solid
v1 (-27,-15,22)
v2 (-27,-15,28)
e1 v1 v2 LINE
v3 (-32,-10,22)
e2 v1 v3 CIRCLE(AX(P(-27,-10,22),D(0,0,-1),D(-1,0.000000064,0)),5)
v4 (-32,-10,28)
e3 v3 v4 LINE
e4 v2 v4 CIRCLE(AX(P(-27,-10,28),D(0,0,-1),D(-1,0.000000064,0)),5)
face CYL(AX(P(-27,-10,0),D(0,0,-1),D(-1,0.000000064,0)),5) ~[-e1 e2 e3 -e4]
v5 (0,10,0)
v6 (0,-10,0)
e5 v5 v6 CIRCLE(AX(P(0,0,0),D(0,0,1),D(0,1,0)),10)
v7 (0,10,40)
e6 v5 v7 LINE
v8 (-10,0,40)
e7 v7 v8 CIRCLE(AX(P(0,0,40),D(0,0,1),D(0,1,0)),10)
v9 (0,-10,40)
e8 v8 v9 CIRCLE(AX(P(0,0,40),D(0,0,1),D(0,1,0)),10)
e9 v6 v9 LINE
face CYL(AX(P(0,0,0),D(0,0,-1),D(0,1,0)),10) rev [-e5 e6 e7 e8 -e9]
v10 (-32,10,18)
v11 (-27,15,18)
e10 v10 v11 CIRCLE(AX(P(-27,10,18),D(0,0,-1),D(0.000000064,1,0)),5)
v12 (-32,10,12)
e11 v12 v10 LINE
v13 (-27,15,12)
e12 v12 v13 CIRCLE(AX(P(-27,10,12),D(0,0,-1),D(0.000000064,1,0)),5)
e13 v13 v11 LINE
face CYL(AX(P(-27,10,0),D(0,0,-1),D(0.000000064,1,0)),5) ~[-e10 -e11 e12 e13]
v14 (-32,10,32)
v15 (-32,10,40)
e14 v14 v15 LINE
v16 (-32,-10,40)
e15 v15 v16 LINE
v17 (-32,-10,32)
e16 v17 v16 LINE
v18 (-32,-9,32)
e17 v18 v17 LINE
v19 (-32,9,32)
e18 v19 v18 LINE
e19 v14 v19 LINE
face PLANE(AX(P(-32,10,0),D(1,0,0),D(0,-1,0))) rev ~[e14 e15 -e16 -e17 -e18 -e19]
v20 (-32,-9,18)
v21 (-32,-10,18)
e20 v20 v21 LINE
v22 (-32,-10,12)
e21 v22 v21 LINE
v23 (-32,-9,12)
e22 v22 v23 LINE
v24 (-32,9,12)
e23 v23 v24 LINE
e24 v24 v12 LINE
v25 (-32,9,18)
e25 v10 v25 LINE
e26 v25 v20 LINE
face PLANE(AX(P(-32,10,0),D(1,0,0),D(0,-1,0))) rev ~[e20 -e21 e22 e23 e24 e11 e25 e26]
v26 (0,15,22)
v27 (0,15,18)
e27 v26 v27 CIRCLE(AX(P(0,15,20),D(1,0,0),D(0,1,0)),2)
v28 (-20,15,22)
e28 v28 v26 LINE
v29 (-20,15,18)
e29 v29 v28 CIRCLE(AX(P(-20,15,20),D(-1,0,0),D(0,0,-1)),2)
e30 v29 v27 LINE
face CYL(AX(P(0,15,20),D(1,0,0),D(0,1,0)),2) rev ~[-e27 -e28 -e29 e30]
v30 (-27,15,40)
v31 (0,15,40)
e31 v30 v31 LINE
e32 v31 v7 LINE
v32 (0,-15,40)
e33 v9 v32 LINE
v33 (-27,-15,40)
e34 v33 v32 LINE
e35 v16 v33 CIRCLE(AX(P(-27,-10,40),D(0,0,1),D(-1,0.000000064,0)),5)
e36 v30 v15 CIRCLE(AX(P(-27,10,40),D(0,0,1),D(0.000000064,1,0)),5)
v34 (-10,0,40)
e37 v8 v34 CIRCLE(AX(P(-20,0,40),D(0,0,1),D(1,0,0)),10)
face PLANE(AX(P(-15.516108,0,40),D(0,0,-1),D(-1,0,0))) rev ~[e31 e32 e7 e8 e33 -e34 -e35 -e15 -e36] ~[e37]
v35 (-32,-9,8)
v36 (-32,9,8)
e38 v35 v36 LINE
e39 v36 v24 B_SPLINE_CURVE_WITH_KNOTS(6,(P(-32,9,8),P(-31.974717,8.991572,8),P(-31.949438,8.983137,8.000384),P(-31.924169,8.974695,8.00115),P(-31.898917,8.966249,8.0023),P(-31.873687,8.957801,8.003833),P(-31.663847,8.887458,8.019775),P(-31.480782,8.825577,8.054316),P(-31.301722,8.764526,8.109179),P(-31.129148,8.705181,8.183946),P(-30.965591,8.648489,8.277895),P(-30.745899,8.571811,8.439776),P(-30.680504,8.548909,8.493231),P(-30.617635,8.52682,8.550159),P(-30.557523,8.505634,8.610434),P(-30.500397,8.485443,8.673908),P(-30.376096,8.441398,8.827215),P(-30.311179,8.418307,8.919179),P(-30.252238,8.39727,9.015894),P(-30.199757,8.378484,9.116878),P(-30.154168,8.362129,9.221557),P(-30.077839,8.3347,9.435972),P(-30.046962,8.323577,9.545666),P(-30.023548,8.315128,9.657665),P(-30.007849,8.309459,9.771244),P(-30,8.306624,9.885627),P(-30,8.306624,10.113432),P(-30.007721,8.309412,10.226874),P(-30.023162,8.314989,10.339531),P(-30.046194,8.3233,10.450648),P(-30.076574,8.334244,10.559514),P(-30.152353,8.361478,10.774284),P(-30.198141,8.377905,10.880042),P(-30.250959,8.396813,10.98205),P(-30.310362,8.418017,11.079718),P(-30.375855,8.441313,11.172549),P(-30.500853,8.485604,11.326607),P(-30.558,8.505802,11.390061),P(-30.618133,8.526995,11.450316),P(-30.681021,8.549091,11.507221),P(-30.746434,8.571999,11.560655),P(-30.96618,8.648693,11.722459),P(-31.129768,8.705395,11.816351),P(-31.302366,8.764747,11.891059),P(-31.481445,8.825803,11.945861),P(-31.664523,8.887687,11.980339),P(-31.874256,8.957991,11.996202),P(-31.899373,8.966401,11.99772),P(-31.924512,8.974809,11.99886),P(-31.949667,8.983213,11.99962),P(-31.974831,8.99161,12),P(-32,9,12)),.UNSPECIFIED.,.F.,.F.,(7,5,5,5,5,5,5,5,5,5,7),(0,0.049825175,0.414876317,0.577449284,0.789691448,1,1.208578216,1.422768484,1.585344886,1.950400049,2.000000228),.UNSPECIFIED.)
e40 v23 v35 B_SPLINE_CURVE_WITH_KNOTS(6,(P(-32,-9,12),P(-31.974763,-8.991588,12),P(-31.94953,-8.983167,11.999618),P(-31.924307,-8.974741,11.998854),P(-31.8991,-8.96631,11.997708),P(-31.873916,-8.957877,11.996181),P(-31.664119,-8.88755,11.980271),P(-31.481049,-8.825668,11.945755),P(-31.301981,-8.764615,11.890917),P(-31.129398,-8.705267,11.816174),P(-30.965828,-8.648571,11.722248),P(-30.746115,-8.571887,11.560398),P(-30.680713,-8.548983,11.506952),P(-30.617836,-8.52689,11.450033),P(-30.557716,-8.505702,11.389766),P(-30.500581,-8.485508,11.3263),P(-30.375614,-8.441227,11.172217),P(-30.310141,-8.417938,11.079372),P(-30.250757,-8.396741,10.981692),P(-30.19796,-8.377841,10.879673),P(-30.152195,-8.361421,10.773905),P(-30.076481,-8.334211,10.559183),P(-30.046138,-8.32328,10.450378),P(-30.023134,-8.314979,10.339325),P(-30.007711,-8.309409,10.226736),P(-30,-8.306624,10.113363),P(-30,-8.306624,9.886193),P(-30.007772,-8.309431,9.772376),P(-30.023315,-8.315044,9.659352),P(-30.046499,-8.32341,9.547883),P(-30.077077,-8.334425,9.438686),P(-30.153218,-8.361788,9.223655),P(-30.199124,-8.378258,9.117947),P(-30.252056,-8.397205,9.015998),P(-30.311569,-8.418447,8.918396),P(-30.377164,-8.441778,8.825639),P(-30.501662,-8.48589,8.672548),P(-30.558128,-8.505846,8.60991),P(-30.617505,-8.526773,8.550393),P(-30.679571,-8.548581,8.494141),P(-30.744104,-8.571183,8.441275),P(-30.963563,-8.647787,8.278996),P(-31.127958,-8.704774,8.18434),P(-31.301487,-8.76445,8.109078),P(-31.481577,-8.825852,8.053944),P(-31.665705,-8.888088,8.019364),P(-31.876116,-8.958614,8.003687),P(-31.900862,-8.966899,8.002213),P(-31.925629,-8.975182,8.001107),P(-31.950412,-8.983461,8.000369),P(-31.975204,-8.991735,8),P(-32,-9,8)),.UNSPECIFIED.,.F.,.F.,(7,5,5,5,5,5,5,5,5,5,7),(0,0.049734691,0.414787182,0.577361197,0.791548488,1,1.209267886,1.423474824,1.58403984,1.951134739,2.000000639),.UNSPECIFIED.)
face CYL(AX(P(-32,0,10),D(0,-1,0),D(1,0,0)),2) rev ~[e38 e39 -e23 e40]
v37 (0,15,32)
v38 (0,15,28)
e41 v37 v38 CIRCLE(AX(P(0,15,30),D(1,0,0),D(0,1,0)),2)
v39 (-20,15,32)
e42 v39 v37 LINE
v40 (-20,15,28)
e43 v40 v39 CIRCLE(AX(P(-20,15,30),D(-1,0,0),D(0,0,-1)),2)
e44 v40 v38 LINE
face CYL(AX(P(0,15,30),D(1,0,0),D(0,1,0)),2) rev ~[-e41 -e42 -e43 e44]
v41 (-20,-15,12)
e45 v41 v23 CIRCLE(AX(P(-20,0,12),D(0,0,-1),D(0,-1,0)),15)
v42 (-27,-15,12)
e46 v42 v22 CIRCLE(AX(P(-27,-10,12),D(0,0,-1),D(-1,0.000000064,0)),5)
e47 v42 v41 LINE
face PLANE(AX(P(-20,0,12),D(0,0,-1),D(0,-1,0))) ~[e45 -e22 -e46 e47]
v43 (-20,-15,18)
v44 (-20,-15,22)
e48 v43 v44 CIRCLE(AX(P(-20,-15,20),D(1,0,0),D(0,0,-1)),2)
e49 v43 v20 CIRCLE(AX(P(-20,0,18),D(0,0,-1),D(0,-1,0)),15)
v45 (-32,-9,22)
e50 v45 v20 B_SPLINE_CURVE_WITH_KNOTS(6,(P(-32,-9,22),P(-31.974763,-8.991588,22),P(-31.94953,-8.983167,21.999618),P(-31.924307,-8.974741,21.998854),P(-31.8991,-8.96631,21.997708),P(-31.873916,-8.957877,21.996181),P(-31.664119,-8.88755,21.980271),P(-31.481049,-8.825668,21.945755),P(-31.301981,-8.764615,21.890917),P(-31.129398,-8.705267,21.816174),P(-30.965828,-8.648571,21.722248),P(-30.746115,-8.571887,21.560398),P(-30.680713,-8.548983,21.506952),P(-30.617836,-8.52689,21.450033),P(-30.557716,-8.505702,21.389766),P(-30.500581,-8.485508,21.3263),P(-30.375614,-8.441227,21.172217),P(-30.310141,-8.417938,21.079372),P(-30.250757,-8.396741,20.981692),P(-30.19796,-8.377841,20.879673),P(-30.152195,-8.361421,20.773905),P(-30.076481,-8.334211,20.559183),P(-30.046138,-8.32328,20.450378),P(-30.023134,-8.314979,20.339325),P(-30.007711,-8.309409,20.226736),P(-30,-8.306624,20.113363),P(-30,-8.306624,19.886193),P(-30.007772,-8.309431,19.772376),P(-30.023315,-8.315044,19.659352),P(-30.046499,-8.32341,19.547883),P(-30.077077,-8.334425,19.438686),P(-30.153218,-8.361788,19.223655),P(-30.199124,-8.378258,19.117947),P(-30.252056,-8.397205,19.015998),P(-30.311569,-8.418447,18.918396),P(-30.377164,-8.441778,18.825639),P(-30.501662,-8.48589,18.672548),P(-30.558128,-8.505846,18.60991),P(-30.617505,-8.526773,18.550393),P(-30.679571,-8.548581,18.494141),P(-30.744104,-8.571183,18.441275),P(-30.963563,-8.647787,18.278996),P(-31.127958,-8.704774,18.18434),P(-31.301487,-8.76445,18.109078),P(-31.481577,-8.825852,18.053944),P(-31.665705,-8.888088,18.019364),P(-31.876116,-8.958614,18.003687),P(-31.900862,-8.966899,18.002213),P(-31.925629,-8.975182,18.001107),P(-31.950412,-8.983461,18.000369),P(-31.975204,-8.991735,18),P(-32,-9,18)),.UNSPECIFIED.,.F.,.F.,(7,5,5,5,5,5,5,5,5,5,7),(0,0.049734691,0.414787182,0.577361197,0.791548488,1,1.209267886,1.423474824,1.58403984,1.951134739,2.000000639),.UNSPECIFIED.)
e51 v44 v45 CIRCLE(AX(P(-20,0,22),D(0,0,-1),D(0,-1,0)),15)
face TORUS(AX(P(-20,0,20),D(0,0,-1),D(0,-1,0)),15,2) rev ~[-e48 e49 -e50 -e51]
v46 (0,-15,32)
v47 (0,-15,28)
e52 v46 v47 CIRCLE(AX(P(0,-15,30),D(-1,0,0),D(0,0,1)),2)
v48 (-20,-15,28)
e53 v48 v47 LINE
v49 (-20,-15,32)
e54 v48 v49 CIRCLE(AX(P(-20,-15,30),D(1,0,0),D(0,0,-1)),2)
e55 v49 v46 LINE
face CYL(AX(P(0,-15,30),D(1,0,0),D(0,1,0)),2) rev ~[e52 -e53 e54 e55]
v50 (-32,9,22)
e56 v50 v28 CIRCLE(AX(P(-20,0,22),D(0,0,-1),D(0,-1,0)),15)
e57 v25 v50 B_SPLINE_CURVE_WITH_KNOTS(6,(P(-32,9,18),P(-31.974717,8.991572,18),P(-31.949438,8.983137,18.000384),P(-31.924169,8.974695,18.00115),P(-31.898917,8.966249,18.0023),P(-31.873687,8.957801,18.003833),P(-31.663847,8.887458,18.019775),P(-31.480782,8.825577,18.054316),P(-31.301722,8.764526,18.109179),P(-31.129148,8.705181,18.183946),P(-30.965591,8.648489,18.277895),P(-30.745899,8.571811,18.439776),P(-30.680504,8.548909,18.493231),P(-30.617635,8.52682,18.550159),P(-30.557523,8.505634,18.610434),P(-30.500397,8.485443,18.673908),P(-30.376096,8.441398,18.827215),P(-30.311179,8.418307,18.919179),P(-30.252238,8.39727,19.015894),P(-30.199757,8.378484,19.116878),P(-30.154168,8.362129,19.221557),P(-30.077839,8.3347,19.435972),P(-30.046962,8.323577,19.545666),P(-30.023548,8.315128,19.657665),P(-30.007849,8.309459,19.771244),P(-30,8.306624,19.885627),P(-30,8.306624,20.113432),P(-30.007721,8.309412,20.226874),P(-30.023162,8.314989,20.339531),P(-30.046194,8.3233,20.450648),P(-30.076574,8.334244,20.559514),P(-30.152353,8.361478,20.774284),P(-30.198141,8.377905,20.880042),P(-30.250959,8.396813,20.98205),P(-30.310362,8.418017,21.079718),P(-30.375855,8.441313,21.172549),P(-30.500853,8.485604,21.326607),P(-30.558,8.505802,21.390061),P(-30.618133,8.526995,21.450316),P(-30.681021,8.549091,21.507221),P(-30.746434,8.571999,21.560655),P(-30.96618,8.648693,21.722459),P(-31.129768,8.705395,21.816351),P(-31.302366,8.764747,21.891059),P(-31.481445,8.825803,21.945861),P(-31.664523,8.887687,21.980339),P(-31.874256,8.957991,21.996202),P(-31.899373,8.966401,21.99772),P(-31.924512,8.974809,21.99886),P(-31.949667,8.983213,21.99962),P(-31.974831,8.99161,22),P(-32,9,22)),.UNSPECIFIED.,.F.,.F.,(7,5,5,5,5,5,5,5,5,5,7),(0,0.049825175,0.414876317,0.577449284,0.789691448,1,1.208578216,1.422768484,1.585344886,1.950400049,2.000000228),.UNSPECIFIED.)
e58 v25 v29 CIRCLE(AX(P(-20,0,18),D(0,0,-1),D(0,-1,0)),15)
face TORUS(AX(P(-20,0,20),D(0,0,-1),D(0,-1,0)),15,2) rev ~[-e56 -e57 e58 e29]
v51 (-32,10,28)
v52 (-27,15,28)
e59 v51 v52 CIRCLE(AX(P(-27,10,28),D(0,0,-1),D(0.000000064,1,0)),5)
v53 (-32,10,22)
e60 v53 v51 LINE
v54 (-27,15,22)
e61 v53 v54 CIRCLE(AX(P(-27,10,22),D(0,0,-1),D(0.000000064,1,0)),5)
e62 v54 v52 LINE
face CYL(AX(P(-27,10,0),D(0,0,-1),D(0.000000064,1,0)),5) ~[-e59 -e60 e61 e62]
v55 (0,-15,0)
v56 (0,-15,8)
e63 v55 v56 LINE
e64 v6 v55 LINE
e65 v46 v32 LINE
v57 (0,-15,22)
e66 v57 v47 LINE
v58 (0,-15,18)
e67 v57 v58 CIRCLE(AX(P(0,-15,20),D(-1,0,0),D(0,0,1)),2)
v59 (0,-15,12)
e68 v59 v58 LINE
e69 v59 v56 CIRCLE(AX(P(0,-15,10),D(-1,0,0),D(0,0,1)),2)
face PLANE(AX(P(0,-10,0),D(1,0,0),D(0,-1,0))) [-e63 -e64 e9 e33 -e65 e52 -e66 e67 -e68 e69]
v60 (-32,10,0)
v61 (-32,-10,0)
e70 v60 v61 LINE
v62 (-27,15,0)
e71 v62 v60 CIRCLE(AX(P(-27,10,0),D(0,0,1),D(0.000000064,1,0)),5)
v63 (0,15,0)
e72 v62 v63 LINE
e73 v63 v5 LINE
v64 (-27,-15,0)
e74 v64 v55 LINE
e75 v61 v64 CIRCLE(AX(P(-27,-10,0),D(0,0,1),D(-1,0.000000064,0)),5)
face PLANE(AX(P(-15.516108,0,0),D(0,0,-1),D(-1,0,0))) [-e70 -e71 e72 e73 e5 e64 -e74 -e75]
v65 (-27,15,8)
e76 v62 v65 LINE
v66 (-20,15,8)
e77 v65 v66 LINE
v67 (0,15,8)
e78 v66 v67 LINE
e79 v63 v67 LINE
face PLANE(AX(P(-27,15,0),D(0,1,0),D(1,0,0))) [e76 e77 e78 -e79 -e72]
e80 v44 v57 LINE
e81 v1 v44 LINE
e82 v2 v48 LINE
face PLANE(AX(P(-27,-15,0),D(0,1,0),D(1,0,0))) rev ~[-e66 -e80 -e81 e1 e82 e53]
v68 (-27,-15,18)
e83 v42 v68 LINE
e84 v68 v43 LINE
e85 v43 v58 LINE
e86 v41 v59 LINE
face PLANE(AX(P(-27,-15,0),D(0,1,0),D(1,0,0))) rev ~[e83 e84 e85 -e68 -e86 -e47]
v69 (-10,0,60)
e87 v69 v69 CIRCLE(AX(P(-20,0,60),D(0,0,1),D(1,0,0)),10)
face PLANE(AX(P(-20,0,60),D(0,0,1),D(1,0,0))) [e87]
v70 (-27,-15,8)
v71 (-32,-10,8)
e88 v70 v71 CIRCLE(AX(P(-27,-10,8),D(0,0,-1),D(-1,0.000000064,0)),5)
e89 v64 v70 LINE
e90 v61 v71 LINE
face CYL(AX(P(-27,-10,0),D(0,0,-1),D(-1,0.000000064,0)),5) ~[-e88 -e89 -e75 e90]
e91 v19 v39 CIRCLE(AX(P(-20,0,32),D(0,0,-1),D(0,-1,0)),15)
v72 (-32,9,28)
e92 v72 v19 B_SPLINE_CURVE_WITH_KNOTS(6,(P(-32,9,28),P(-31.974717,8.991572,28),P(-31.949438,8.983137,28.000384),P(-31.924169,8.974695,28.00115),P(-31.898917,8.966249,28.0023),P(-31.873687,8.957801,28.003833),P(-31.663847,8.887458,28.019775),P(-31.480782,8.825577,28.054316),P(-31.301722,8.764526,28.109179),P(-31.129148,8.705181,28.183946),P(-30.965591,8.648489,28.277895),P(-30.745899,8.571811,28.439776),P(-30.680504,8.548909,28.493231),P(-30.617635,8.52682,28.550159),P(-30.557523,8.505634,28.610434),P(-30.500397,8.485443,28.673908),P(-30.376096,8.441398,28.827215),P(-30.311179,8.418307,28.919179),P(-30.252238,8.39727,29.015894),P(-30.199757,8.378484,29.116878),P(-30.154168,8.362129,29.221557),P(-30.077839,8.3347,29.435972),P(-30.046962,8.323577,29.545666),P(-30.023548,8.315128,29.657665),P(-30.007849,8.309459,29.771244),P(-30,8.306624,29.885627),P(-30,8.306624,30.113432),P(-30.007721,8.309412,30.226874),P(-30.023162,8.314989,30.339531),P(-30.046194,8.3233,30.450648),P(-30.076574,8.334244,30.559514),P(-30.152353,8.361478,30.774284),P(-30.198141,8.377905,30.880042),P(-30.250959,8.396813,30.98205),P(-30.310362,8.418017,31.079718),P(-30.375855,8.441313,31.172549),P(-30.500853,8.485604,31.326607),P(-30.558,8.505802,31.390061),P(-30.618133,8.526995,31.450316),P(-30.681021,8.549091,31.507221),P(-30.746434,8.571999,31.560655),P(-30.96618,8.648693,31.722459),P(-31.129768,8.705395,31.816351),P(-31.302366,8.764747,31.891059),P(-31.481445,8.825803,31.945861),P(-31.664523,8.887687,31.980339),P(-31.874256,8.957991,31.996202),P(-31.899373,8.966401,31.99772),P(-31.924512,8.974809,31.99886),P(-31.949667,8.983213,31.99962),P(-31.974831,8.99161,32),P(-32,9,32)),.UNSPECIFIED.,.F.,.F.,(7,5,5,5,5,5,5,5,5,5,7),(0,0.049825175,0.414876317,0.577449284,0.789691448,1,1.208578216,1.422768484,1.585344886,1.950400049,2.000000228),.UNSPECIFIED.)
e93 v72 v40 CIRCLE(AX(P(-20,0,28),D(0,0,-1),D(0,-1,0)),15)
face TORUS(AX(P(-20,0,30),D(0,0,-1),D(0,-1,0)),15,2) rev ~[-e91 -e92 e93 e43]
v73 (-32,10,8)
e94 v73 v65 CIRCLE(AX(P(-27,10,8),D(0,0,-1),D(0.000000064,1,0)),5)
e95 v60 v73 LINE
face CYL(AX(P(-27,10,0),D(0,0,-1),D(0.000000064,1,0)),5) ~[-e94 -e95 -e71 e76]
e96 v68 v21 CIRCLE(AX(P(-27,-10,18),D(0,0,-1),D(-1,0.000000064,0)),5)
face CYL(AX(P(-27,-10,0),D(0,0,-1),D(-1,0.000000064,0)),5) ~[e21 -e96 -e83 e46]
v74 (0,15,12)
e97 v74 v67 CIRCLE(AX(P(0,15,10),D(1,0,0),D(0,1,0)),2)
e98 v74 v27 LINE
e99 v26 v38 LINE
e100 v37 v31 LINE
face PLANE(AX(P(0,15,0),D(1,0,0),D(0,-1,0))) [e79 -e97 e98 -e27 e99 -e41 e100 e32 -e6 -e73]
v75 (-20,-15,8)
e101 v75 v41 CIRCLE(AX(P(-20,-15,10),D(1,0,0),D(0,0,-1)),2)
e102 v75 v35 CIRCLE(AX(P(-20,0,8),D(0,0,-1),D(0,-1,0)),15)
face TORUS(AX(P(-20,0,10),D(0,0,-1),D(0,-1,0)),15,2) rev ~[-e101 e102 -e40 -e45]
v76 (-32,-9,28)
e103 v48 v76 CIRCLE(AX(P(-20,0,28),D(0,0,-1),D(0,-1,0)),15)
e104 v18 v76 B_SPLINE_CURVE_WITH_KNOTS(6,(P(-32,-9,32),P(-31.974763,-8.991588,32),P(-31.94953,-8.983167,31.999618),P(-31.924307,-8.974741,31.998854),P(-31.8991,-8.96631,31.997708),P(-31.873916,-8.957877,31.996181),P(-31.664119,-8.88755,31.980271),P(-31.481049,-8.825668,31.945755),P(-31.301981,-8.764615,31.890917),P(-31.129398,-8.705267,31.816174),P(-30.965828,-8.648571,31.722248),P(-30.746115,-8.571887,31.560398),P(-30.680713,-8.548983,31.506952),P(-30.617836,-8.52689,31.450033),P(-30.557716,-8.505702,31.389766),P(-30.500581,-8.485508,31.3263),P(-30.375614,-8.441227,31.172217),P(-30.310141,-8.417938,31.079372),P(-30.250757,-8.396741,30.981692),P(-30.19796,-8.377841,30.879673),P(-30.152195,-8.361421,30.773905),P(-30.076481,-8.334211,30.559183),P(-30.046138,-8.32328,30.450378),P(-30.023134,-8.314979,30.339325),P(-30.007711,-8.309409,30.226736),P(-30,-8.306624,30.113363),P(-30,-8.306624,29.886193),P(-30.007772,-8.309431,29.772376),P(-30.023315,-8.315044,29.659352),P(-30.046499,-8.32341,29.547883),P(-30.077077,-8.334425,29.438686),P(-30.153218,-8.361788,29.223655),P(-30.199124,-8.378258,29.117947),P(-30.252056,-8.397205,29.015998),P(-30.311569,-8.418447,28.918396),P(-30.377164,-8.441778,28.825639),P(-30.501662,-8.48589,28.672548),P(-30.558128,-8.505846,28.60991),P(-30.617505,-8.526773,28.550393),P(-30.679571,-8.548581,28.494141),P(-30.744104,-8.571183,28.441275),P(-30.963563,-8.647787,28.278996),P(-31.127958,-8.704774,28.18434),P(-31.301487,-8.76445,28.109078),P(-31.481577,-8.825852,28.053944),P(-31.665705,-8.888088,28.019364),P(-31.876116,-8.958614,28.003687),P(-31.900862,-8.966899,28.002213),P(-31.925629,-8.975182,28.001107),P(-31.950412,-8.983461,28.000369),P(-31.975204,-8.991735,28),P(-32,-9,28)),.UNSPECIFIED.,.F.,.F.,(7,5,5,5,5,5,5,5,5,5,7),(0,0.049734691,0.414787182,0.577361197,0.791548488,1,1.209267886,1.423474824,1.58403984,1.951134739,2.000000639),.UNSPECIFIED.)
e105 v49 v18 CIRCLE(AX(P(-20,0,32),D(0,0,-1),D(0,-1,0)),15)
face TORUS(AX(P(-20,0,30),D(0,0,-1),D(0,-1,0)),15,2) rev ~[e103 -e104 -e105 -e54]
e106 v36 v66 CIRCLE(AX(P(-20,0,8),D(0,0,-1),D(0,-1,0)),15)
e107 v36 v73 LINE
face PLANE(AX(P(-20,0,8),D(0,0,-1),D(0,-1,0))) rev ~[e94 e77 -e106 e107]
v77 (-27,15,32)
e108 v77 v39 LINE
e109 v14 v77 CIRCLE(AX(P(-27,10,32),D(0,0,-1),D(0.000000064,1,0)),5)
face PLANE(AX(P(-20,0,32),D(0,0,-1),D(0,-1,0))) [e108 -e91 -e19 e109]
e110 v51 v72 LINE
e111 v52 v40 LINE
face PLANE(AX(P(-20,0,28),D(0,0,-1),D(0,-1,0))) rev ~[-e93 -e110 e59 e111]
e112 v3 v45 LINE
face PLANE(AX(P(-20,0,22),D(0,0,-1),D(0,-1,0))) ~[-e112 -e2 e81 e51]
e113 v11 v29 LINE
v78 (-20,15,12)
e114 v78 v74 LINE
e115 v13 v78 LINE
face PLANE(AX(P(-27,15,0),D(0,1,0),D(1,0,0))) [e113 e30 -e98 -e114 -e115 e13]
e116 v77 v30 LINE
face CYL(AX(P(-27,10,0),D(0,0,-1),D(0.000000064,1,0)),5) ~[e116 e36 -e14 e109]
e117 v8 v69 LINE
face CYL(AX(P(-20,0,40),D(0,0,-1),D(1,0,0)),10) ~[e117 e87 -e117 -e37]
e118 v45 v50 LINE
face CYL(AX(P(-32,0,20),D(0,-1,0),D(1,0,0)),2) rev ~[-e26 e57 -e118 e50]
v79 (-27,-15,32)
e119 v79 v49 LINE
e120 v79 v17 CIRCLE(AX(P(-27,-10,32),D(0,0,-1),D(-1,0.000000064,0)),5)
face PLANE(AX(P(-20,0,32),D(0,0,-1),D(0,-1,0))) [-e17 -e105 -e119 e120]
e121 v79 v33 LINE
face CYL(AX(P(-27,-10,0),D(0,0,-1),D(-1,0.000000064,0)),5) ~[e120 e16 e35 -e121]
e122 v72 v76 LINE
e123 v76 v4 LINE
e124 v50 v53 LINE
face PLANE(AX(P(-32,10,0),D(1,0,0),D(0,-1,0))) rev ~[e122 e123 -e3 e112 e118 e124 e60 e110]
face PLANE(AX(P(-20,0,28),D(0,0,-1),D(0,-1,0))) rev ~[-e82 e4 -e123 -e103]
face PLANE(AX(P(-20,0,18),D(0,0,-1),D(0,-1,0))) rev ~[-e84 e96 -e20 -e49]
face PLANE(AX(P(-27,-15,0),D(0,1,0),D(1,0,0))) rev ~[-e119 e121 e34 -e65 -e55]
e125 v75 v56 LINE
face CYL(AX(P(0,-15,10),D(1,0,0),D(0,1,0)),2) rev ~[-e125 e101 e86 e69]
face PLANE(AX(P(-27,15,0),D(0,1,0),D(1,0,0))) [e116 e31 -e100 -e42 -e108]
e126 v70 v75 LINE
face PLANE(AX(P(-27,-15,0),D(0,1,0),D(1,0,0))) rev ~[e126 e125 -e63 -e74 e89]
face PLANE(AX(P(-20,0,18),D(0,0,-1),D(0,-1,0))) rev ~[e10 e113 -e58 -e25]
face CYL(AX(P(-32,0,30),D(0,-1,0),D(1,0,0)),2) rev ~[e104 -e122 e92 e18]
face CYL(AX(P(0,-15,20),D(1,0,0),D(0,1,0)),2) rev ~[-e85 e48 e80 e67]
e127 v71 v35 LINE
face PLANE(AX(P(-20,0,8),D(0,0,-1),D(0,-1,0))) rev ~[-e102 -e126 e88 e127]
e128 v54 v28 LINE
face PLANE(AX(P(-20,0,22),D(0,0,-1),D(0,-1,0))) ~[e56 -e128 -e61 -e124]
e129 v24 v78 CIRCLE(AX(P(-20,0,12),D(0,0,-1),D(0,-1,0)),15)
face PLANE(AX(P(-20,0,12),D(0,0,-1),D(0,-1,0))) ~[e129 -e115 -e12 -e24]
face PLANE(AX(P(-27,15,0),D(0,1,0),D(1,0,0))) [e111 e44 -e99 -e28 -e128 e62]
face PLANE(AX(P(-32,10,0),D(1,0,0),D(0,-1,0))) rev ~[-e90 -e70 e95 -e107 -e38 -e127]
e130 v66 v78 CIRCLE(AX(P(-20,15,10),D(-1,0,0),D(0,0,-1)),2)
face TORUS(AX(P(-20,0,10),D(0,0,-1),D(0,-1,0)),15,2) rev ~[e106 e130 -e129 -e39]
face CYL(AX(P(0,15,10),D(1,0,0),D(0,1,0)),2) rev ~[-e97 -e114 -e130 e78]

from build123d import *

# Parameters (mm, degrees)
PAD_DEPTH            = 40
SKETCH001_R          = 10
PAD001_DEPTH         = 20
SKETCH002_R          = 2
POCKET_DEPTH         = 32.001
SKETCH003_R          = 2
POCKET001_DEPTH      = 15.001
POCKET001_DEPTH_BACK = -15.001
GROOVE_ANGLE         = -180


with BuildPart() as part:
    # Sketch → Pad (new body)
    with BuildSketch(Plane.XY):
        with BuildLine():
            ThreePointArc((0, 10), (-10, 0), (0, -10))
            Line((0, -10), (0, -15))
            Line((-27, -15), (0, -15))
            ThreePointArc((-32, -10), (-30.535534, -13.535534), (-27, -15))
            Line((-32, 10), (-32, -10))
            ThreePointArc((-27, 15), (-30.535534, 13.535534), (-32, 10))
            Line((-27, 15), (0, 15))
            Line((0, 15), (0, 10))
        make_face()
    extrude(amount=PAD_DEPTH)

    # Sketch001 → Pad001 (join)
    with BuildSketch(Plane.XY.offset(40)):
        with Locations((-20, 0)):
            Circle(SKETCH001_R)
    extrude(amount=PAD001_DEPTH)

    # Sketch002 → Pocket (cut, through all)
    with BuildSketch(Plane.YZ):
        with Locations((-15, 20)):
            Circle(SKETCH002_R)
        with Locations((15, 20)):
            Circle(SKETCH002_R)
        with Locations((-15, 30)):
            Circle(SKETCH002_R)
        with Locations((-15, 10)):
            Circle(SKETCH002_R)
        with Locations((15, 30)):
            Circle(SKETCH002_R)
        with Locations((15, 10)):
            Circle(SKETCH002_R)
    extrude(amount=-POCKET_DEPTH, mode=Mode.SUBTRACT)

    # Sketch003 → Pocket001 (cut, two sides)
    with BuildSketch(Plane.XZ) as pocket001_sk:
        with Locations((-32, 20)):
            Circle(SKETCH003_R)
        with Locations((-32, 30)):
            Circle(SKETCH003_R)
        with Locations((-32, 10)):
            Circle(SKETCH003_R)
    extrude(amount=-POCKET001_DEPTH, mode=Mode.SUBTRACT)
    extrude(pocket001_sk.sketch, amount=-POCKET001_DEPTH_BACK, mode=Mode.SUBTRACT)

    # Sketch004 → Groove (revolve, cut)
    with BuildSketch(Plane.YZ.offset(-20)):
        with BuildLine():
            ThreePointArc((-15, 8), (-13, 10), (-15, 12))
            Line((-15, 12), (-25, 12))
            Line((-25, 12), (-25, 8))
            Line((-25, 8), (-15, 8))
        make_face()
        with BuildLine():
            ThreePointArc((-15, 28), (-13, 30), (-15, 32))
            Line((-25, 32), (-15, 32))
            Line((-25, 32), (-25, 28))
            Line((-25, 28), (-15, 28))
        make_face()
        with BuildLine():
            ThreePointArc((-15, 18), (-13, 20), (-15, 22))
            Line((-15, 22), (-25, 22))
            Line((-25, 22), (-25, 18))
            Line((-25, 18), (-15, 18))
        make_face()
    revolve(axis=Axis((-20, 0, 0), (0, 0, 1)), revolution_arc=GROOVE_ANGLE, mode=Mode.SUBTRACT)


solid = part.part
